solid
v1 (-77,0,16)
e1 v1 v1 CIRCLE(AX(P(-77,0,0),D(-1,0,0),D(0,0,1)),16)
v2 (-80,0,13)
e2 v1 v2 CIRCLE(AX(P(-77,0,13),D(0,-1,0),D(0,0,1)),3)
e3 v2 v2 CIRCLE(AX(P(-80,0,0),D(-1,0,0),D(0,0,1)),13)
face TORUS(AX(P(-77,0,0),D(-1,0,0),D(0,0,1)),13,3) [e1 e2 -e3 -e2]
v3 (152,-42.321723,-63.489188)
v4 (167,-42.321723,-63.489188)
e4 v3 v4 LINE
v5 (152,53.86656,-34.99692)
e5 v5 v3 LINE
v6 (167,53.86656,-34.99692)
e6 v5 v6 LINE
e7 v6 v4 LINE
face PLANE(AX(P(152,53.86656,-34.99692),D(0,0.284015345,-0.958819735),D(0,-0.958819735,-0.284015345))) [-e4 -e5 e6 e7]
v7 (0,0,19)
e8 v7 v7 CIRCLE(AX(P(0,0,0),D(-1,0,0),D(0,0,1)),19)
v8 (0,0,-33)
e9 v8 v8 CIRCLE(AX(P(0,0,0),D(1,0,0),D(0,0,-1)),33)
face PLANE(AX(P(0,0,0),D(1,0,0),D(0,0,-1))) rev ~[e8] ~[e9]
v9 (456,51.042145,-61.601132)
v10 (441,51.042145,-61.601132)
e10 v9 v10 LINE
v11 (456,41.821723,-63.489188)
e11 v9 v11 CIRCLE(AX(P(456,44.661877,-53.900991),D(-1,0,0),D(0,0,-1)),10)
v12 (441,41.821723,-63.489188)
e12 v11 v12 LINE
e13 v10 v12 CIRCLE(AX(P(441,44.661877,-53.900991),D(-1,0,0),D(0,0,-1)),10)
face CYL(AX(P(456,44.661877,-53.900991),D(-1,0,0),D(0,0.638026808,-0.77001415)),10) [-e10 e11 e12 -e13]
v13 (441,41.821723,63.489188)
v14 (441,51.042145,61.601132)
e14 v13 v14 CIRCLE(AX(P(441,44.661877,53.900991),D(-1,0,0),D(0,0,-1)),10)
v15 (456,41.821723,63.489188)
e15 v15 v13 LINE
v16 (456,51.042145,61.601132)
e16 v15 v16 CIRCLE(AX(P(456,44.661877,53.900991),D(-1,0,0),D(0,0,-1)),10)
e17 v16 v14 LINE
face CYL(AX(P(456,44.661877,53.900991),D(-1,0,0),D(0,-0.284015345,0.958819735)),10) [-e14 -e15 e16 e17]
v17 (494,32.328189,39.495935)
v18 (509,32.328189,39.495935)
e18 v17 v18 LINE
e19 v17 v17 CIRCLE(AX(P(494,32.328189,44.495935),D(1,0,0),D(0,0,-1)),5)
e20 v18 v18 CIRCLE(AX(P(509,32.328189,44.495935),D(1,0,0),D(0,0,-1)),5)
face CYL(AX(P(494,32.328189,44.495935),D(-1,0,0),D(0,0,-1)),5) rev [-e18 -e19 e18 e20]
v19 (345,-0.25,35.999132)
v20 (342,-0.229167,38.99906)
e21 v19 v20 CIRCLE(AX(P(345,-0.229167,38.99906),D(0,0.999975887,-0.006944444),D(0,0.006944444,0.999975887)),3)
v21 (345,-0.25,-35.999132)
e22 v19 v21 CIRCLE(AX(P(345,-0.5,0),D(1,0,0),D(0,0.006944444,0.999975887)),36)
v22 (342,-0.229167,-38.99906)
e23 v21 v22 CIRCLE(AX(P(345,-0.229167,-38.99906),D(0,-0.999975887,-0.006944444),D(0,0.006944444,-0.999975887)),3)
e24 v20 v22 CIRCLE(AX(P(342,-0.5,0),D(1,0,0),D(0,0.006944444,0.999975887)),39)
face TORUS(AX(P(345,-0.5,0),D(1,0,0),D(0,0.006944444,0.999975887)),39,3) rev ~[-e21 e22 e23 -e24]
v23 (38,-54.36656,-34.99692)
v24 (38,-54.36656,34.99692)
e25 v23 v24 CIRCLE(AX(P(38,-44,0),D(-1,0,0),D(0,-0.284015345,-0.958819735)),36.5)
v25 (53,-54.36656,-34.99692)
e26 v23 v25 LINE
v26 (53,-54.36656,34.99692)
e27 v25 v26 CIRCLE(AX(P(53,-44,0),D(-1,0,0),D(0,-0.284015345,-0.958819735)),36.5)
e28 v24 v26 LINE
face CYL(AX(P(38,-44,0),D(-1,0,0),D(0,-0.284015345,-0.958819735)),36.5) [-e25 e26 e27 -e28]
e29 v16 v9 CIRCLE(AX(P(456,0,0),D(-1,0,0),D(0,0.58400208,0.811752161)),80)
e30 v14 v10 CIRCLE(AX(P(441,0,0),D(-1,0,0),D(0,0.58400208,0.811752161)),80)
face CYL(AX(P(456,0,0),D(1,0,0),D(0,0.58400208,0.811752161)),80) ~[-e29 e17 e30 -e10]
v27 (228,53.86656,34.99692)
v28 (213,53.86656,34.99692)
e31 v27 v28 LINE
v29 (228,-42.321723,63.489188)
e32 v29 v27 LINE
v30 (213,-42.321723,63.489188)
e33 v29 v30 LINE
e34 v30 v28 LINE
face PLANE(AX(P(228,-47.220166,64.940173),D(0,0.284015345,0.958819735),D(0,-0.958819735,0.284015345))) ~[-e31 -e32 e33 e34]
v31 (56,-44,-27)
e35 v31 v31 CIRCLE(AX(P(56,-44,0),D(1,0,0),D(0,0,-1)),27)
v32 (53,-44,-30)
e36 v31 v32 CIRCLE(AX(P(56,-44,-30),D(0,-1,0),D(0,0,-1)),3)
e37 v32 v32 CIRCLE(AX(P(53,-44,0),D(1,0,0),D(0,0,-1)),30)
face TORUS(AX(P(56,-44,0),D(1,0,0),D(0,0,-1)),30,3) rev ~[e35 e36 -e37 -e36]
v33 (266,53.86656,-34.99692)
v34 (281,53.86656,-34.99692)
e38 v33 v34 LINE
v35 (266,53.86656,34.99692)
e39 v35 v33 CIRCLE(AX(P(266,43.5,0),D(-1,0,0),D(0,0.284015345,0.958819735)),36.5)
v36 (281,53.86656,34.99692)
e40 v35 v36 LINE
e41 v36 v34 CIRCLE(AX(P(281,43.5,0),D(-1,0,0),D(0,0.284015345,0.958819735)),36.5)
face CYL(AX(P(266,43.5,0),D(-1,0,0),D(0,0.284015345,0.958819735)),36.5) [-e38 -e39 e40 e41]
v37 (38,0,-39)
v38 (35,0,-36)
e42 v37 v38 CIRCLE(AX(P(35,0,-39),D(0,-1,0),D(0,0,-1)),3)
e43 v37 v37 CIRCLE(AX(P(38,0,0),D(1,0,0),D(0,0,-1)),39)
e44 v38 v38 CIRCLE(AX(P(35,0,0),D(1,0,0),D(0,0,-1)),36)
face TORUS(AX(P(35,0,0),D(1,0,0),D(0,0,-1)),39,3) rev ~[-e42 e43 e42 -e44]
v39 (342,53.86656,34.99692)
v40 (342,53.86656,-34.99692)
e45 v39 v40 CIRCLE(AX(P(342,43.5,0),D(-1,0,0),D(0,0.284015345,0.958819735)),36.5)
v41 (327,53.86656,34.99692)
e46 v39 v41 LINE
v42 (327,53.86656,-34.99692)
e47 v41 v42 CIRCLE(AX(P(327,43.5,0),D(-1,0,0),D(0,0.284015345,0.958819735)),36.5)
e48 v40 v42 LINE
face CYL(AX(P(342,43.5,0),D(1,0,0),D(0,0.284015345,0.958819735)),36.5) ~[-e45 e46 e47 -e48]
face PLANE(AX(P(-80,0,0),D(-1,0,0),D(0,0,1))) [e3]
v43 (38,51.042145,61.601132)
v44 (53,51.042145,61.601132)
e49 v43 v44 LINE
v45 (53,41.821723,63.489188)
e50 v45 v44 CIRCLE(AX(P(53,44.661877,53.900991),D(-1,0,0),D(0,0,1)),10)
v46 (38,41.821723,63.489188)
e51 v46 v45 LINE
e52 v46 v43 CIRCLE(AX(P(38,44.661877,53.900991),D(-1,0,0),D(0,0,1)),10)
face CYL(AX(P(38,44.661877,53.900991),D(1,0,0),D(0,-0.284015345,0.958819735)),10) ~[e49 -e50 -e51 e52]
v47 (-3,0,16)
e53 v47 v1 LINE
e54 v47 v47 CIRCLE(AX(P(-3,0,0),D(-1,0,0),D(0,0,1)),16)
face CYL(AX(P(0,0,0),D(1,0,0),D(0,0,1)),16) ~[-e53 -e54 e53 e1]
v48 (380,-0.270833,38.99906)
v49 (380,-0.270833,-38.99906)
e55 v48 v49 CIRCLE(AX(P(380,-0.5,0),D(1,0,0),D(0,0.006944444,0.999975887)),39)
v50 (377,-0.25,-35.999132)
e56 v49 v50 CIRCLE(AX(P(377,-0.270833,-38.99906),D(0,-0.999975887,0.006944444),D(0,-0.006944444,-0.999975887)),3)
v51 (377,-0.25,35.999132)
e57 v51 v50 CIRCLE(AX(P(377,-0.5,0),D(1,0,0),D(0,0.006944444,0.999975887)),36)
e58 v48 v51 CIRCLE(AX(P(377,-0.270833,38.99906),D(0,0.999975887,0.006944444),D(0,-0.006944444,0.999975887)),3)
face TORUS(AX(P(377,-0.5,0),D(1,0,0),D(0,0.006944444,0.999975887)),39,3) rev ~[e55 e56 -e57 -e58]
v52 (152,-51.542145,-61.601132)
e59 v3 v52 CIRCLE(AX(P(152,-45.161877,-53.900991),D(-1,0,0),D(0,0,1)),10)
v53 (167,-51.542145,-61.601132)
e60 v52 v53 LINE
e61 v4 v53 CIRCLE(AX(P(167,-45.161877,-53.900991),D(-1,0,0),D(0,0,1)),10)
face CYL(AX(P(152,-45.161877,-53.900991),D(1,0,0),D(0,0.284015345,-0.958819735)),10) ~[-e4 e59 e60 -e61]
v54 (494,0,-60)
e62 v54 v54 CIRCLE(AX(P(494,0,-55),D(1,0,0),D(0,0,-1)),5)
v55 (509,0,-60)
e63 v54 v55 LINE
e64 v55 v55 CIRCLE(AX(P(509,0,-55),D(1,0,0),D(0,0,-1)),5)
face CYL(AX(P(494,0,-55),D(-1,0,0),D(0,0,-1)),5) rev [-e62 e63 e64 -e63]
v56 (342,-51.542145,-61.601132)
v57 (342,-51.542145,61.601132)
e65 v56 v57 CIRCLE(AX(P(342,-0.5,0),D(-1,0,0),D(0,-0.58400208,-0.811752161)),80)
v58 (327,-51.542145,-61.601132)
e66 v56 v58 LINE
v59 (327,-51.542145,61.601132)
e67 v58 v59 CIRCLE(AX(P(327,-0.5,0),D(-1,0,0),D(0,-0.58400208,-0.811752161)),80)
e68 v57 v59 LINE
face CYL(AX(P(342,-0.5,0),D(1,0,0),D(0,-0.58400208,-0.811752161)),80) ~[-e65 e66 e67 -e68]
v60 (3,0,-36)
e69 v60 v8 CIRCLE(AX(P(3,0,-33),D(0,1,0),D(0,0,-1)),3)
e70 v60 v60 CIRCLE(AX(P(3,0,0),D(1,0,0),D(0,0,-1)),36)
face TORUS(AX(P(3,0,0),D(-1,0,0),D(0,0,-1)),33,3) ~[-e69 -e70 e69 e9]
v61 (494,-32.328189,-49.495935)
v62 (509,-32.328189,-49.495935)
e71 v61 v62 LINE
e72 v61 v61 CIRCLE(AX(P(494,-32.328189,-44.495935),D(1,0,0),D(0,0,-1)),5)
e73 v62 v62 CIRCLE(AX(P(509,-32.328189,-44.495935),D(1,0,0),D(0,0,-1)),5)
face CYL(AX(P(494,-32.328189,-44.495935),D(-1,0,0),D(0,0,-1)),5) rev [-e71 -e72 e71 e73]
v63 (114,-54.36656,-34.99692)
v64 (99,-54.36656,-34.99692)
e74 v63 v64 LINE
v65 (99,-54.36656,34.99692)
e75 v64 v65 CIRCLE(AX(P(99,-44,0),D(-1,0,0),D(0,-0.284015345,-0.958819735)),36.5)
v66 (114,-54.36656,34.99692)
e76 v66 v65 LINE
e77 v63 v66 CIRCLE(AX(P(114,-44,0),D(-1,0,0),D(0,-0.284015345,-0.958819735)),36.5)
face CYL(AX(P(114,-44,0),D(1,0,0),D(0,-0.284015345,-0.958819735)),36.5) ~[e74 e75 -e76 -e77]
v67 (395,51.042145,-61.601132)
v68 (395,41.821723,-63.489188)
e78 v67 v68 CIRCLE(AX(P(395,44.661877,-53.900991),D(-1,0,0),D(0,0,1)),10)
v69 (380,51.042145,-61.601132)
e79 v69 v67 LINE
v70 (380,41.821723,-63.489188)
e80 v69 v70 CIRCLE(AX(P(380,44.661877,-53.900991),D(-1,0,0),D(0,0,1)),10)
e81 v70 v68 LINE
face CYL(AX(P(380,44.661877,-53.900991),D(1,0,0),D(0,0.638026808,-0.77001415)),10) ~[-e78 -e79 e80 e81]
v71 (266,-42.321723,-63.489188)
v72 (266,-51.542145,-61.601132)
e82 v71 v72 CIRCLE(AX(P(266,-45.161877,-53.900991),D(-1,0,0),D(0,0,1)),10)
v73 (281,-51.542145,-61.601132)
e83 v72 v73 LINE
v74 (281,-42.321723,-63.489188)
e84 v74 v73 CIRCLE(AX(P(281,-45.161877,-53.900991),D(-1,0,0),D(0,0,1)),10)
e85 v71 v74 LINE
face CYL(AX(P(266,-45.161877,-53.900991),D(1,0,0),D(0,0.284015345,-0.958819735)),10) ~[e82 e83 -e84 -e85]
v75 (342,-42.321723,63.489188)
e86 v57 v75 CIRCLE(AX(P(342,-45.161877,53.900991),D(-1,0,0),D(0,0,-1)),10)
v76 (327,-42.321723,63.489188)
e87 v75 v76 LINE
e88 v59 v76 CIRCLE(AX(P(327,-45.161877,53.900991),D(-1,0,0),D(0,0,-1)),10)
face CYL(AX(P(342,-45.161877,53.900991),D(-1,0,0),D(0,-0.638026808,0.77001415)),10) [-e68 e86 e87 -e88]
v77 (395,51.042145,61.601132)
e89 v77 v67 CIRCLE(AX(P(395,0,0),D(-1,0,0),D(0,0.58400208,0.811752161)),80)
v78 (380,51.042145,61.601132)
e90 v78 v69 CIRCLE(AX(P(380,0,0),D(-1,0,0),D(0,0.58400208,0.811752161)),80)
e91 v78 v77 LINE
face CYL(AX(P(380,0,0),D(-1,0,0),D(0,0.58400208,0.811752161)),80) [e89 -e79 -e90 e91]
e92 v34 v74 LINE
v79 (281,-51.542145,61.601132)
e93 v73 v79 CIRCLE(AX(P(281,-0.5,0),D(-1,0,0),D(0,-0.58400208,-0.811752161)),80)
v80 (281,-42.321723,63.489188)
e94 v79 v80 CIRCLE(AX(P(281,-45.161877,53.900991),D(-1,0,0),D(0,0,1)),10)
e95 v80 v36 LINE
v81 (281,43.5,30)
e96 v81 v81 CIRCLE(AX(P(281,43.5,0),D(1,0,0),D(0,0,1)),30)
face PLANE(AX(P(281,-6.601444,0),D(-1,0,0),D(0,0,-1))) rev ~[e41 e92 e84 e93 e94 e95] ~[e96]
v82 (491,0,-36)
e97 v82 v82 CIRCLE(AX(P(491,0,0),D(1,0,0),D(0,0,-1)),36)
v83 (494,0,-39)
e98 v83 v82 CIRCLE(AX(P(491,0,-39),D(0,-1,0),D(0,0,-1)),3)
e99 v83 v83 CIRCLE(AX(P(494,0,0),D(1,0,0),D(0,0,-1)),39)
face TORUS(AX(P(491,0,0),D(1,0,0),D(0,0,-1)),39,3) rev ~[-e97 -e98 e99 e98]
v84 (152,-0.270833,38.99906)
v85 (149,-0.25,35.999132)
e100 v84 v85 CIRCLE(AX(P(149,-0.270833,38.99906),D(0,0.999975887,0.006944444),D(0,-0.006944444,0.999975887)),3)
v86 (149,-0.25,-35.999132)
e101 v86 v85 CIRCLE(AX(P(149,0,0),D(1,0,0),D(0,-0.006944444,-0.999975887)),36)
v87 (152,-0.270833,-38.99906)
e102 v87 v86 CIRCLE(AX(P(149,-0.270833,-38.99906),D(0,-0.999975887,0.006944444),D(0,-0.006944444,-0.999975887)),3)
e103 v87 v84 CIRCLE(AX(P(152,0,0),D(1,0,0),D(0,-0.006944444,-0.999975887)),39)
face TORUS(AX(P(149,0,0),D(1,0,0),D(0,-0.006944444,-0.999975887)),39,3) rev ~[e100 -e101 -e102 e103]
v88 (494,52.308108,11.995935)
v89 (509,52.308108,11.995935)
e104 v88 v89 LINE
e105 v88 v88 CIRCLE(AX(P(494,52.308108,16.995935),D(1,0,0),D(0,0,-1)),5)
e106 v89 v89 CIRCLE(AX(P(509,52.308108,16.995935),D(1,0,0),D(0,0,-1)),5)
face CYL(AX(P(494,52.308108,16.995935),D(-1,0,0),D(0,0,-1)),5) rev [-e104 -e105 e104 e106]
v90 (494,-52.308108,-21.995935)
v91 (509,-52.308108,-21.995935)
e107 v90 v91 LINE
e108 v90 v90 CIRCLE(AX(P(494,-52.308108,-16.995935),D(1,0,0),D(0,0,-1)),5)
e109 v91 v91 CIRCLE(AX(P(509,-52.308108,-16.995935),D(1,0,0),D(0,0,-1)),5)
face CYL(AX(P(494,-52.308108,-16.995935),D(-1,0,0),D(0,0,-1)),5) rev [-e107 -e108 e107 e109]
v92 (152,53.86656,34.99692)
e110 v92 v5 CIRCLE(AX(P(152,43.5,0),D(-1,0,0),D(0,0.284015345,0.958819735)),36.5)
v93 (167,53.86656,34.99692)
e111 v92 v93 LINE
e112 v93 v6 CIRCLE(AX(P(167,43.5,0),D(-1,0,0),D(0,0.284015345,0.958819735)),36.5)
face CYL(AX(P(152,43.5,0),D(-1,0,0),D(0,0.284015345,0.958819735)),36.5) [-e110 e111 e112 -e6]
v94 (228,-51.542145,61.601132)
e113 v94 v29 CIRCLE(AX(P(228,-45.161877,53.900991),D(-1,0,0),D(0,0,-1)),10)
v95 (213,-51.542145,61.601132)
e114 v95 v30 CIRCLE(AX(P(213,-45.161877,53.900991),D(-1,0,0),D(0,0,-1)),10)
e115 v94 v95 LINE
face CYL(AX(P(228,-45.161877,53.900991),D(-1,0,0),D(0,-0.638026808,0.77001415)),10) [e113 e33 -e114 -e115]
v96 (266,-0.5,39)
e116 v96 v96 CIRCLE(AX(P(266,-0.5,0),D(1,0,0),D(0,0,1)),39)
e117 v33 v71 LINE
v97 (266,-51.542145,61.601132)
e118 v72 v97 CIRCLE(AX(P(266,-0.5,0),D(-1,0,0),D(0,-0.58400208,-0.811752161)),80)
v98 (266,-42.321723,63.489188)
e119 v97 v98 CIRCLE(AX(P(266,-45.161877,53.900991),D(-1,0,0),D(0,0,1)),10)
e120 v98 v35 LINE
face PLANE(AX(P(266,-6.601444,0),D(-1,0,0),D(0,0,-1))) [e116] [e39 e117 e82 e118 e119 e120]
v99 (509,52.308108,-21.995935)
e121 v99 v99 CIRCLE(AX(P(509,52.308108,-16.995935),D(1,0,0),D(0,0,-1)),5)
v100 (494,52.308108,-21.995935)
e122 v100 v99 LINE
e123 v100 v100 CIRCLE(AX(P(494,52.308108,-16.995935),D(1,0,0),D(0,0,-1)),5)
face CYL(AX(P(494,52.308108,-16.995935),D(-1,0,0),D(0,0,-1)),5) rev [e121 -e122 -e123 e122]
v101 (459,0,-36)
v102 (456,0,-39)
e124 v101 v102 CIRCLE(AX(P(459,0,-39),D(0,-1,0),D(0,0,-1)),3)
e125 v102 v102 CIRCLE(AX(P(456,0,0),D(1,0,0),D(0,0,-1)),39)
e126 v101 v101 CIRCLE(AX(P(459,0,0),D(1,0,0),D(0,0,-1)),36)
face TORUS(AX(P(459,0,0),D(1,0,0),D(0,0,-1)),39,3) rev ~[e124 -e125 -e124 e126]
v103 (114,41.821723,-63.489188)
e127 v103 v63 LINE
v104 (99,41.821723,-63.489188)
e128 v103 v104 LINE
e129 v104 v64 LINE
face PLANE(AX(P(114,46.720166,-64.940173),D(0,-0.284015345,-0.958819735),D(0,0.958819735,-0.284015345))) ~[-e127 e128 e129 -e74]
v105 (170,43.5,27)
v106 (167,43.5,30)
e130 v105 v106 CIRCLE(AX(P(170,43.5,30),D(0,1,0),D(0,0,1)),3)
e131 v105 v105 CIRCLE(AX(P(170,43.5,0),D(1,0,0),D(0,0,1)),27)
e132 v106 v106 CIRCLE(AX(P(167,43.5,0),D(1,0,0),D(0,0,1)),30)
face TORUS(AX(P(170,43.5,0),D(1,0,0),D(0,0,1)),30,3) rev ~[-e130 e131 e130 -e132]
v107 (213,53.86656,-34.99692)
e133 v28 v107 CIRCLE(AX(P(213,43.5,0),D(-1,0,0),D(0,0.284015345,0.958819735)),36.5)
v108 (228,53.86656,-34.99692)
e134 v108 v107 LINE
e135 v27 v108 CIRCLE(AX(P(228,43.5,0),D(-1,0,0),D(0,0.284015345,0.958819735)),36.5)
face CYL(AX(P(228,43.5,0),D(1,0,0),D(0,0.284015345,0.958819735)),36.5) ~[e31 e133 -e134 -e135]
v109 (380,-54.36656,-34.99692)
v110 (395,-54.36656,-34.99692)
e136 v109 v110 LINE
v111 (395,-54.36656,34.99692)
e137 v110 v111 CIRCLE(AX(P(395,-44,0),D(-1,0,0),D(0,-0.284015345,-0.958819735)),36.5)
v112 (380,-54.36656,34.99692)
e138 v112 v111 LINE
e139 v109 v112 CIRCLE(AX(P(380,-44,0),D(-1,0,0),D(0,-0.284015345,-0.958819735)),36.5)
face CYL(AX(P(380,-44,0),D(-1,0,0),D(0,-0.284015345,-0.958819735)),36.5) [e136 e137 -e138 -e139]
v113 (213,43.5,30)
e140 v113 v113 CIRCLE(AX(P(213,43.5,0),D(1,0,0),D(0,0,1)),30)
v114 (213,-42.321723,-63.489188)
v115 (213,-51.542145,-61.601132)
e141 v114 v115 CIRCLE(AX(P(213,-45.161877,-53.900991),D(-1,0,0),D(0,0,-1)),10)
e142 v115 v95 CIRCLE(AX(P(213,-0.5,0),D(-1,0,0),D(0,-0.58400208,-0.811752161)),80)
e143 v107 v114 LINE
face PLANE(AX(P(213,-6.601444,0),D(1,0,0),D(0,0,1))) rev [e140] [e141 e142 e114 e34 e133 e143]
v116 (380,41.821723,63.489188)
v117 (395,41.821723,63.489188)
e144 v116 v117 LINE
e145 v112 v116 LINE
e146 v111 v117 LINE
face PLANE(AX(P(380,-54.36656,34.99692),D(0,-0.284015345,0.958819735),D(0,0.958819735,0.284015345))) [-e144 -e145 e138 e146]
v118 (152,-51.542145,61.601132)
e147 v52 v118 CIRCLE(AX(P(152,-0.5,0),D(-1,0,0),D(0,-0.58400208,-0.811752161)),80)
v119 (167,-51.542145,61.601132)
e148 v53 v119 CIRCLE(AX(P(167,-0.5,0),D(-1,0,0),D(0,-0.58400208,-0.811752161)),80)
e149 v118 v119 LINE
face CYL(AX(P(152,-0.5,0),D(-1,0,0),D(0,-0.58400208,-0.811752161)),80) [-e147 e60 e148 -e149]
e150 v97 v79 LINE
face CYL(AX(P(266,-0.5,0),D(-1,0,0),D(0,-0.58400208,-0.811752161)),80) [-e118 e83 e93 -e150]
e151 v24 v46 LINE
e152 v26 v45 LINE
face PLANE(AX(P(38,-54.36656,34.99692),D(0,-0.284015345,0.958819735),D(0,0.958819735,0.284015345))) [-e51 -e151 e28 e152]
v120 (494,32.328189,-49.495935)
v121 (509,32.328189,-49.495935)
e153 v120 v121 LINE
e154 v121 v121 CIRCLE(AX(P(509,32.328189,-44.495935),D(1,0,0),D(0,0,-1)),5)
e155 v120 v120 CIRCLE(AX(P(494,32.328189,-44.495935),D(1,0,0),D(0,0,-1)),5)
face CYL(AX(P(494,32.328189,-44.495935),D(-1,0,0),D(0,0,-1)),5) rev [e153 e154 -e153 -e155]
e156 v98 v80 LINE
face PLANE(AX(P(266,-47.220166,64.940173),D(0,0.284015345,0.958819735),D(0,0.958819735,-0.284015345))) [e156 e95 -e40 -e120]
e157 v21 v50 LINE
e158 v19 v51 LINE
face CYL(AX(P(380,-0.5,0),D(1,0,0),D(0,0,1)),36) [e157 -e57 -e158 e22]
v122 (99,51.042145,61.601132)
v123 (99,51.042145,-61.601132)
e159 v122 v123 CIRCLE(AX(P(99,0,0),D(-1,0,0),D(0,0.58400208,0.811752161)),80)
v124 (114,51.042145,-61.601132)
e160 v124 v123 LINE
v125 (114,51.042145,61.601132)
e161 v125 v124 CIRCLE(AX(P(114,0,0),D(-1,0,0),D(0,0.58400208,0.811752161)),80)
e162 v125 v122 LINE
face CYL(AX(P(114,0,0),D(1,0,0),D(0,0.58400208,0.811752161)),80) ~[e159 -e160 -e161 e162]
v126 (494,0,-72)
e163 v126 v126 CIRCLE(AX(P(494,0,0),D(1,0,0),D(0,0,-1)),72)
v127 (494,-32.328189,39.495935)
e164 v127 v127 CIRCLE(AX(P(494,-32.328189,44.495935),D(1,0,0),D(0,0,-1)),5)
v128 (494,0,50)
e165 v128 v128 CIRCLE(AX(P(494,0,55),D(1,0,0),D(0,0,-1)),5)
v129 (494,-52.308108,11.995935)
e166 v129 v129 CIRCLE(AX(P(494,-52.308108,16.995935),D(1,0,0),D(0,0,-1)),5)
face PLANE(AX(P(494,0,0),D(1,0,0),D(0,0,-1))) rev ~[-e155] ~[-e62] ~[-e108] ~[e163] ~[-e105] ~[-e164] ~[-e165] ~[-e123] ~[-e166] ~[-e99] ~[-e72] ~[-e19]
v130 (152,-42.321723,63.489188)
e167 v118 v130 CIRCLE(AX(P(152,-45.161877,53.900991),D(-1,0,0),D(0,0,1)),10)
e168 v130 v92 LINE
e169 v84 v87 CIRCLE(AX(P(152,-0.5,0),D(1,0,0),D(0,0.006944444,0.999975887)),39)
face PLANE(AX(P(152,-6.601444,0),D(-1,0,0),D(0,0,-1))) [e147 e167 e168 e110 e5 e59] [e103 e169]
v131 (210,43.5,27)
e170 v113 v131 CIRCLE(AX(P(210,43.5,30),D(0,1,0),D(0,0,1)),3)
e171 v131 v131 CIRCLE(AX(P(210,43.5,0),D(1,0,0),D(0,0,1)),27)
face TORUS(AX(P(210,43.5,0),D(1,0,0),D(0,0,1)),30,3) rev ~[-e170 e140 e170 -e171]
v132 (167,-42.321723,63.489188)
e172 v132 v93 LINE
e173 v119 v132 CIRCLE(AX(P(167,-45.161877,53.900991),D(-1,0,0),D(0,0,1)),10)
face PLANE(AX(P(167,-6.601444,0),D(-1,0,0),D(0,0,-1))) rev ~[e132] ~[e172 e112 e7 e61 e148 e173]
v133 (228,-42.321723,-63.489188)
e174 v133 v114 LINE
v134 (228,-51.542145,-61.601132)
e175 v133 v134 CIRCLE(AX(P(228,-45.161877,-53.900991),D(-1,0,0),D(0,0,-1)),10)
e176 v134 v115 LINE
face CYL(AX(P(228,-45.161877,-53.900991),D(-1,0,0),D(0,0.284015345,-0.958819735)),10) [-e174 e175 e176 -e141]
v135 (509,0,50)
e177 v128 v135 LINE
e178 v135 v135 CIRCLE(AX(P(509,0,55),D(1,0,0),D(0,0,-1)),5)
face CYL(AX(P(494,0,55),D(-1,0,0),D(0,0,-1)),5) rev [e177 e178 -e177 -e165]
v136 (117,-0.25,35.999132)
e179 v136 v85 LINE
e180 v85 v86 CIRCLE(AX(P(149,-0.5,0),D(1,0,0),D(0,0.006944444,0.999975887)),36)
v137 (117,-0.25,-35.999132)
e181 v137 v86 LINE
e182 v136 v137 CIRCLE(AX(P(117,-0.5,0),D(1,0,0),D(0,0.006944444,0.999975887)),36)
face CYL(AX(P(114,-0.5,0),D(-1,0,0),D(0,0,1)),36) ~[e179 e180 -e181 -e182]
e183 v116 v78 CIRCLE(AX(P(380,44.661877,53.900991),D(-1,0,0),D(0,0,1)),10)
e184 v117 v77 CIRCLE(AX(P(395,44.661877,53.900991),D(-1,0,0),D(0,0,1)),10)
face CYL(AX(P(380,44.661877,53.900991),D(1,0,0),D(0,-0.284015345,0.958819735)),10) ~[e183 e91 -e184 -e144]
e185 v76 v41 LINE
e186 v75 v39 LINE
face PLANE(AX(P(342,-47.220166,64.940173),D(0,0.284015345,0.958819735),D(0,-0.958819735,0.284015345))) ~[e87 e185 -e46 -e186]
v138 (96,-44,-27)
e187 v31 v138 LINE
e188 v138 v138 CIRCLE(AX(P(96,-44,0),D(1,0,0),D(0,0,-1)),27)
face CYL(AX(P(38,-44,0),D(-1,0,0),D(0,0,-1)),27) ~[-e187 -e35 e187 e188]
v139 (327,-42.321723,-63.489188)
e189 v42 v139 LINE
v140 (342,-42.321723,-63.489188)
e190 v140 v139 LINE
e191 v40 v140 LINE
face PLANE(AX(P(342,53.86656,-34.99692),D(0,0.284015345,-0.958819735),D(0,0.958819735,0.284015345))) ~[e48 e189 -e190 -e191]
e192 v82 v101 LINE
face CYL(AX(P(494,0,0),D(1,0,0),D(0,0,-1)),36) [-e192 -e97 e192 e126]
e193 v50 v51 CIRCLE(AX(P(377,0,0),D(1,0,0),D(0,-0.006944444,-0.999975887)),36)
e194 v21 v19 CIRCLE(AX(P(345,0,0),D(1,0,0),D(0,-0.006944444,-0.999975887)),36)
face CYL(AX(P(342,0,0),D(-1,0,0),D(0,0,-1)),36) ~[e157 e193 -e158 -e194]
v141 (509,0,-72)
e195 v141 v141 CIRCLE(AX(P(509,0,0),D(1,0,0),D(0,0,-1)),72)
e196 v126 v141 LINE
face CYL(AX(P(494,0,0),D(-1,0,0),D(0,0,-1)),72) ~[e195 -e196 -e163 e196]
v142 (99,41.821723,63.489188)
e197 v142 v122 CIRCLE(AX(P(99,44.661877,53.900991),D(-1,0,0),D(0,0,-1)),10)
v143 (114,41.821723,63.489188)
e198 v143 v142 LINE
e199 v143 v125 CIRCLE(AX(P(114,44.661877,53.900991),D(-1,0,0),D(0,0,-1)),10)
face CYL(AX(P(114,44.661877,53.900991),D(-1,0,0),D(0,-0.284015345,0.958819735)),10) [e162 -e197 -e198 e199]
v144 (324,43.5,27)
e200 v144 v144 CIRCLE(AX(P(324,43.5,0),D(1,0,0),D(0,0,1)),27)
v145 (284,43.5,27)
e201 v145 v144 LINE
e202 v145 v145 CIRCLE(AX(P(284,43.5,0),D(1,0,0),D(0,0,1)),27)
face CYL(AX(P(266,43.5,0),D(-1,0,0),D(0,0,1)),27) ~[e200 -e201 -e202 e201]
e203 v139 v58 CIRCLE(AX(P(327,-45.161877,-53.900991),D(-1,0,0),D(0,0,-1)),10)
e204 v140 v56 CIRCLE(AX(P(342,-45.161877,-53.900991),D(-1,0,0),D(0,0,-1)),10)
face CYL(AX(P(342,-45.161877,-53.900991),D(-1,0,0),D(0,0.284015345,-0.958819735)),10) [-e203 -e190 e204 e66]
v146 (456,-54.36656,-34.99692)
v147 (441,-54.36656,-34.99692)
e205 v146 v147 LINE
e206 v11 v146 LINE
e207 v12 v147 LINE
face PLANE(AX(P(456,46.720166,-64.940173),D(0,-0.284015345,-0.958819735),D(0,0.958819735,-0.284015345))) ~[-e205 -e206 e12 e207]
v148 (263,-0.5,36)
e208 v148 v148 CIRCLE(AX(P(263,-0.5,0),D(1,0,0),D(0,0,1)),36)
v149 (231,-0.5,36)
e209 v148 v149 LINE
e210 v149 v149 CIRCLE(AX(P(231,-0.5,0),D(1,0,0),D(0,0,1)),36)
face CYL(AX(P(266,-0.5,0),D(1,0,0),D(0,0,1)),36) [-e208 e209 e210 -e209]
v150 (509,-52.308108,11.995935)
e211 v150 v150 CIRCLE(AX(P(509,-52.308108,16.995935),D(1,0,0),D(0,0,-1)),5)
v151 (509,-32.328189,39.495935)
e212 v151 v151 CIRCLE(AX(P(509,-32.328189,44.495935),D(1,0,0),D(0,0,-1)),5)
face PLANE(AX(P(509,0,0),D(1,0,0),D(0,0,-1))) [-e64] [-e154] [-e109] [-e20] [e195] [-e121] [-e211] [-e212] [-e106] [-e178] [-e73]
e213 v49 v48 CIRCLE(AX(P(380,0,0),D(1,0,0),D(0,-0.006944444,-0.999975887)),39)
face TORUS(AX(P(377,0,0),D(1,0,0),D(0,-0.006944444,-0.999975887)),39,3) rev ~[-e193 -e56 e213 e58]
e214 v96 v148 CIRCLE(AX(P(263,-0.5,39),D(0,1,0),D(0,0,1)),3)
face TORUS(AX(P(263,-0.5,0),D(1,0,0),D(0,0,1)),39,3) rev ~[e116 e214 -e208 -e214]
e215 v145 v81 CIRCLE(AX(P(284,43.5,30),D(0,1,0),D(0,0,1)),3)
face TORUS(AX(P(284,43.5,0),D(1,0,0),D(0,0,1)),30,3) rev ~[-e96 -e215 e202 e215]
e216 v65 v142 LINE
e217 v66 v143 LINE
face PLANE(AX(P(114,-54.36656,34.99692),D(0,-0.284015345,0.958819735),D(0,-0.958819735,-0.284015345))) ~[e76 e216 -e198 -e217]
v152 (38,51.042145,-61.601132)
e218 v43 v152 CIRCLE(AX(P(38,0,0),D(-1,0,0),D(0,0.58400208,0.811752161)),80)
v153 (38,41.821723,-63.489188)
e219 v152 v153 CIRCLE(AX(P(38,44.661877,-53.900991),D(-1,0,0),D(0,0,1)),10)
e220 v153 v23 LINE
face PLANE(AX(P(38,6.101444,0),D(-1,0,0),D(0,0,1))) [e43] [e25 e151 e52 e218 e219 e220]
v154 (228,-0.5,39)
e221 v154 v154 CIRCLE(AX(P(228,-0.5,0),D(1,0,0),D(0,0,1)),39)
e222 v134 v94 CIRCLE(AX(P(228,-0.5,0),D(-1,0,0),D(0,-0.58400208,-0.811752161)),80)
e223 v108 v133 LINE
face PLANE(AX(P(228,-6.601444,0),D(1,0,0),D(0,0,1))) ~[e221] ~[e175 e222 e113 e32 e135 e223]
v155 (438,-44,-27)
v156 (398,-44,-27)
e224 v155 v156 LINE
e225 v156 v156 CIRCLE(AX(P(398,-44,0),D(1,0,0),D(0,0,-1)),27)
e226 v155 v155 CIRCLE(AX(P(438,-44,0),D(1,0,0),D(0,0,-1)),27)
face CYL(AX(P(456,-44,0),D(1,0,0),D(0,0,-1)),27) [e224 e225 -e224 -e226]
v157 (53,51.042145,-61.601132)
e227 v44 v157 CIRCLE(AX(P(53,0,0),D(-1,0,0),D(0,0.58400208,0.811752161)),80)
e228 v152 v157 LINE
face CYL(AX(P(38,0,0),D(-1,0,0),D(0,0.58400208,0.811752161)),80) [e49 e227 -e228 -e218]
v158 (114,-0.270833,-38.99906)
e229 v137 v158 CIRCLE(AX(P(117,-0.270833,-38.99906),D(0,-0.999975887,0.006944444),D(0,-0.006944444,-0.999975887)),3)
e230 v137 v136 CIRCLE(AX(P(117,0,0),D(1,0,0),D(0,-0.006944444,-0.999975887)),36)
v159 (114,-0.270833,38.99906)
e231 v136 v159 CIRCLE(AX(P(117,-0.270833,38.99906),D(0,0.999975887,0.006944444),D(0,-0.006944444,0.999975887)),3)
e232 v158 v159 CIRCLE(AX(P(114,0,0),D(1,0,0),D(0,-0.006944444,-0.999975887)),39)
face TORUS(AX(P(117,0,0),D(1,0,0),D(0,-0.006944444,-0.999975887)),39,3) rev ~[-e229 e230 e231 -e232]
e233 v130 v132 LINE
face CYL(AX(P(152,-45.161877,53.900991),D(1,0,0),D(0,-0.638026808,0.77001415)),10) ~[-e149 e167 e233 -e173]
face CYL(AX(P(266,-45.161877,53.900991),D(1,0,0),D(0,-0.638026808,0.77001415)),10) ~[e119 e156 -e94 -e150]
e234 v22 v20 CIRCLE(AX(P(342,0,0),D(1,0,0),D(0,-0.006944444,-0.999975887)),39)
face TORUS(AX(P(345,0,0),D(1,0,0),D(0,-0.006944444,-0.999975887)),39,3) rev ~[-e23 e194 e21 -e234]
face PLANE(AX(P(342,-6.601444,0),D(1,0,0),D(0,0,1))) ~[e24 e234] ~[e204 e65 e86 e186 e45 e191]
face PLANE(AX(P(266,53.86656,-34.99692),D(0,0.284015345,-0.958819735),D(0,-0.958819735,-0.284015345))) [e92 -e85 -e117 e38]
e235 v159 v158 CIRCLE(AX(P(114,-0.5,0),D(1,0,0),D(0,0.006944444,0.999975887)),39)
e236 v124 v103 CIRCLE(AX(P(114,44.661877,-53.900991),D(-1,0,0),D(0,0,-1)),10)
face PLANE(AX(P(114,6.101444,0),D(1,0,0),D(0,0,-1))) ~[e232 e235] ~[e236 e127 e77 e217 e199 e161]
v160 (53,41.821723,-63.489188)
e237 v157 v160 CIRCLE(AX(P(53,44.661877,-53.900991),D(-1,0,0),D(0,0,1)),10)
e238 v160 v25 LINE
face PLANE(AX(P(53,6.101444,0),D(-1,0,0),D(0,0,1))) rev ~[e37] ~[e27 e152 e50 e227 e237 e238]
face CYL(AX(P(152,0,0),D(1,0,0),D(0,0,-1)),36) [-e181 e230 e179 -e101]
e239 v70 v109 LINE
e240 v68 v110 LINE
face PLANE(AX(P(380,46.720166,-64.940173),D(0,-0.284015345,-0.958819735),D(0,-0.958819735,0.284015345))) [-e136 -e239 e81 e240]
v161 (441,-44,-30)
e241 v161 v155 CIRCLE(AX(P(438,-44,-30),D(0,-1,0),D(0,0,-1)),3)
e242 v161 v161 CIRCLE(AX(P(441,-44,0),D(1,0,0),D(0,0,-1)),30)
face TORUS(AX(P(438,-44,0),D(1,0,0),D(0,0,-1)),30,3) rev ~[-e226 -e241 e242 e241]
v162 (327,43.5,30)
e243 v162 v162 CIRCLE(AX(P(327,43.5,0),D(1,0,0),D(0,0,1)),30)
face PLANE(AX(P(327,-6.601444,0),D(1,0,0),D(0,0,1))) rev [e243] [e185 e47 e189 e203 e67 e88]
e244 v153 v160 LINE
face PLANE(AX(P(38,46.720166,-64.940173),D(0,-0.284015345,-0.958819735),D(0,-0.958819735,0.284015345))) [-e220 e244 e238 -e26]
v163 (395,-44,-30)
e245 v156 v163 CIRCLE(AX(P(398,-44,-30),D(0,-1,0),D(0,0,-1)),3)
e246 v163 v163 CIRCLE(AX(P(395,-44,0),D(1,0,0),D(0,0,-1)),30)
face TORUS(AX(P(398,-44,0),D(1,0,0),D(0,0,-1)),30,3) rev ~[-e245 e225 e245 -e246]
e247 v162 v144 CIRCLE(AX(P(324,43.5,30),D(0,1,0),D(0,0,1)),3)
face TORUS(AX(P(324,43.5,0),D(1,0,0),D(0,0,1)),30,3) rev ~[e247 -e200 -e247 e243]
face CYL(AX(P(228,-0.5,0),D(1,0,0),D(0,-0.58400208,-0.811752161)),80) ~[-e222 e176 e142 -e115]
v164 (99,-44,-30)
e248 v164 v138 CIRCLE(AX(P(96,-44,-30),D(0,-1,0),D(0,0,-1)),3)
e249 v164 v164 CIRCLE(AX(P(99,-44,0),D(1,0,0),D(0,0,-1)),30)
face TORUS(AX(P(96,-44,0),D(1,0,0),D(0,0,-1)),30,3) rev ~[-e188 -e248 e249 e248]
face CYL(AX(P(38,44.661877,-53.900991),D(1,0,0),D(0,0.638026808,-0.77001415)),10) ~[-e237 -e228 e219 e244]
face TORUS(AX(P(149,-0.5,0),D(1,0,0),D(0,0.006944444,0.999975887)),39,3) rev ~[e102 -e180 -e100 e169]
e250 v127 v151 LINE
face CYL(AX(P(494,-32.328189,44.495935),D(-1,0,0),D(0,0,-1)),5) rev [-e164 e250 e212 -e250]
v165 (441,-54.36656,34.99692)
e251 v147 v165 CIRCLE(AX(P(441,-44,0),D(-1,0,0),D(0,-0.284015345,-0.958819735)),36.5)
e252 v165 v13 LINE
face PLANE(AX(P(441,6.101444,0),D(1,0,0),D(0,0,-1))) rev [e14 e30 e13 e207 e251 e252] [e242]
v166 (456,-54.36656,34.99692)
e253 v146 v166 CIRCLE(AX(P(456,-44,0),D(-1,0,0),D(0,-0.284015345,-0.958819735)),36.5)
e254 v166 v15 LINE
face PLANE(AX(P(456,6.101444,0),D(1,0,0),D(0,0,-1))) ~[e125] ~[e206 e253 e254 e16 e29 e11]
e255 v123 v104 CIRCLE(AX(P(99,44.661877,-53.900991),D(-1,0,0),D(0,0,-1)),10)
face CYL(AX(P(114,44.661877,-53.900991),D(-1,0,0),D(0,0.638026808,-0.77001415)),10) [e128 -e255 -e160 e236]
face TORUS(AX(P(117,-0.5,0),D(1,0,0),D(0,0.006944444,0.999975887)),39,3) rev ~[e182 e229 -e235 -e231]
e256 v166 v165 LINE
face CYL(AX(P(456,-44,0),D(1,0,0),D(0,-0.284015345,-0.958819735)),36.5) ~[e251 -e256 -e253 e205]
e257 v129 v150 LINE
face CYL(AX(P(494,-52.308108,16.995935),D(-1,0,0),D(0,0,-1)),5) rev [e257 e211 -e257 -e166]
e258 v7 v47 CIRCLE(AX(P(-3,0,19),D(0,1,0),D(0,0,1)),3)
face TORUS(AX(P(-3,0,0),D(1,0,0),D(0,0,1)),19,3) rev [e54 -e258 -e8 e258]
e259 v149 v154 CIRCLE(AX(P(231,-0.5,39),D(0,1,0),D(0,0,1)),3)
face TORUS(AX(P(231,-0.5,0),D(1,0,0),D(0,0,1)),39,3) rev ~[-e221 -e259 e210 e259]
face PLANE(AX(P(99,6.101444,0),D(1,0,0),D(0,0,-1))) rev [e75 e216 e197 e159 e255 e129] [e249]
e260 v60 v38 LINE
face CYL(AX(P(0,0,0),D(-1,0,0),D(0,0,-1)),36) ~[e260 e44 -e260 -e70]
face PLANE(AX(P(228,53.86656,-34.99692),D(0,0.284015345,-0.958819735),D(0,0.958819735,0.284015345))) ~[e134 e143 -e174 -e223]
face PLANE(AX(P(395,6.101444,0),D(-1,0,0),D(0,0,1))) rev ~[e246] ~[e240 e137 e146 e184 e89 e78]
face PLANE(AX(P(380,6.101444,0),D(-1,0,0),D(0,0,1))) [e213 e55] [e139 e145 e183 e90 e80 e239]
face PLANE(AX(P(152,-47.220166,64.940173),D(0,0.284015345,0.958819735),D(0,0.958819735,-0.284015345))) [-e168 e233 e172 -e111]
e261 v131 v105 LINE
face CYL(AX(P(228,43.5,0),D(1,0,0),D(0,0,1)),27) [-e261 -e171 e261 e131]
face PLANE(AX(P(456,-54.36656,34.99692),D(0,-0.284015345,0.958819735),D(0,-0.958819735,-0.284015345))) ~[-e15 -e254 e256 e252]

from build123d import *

# Parameters (mm, degrees)
SKETCH1_R             = 36
BOSS_EXTRUDE1_DEPTH   = 38
SKETCH2_R             = 27
BOSS_EXTRUDE2_DEPTH   = 15
SKETCH2_2_R           = 27
BOSS_EXTRUDE3_DEPTH   = 61
BODY_MOVE_COPY1_ANGLE = 180
SKETCH3_R             = 72
SKETCH3_R_2           = 5
BOSS_EXTRUDE4_DEPTH   = 15
FILLET1_R             = 3
FILLET2_R             = 10
SKETCH4_R             = 16
BOSS_EXTRUDE5_DEPTH   = 80
FILLET3_R             = 3


with BuildPart() as part:
    # Sketch1 → Boss-Extrude1 (new body)
    with BuildSketch(Plane(origin=(0, 0, 0), x_dir=(0, 0, -1), z_dir=(1, 0, 0))):
        Circle(SKETCH1_R)
    extrude(amount=BOSS_EXTRUDE1_DEPTH)

    # Sketch2 → Boss-Extrude2 (add)
    with BuildSketch(Plane(origin=(38, 0, 0), x_dir=(0, 0, -1), z_dir=(1, 0, 0))):
        with BuildLine():
            Line((-34.996920323, -54.366560082), (-64.940172867, 46.720166396))
            ThreePointArc((-64.940172867, 46.720166396), (0, 80), (64.940172867, 46.720166396))
            Line((64.940172867, 46.720166396), (34.996920323, -54.366560082))
            ThreePointArc((34.996920323, -54.366560082), (0, -80.5), (-34.996920323, -54.366560082))
        make_face()
        with Locations((0, -44)):
            Circle(SKETCH2_R, mode=Mode.SUBTRACT)
    extrude(amount=BOSS_EXTRUDE2_DEPTH)

    # Sketch2_2 → Boss-Extrude3 (add)
    with BuildSketch(Plane(origin=(38, 0, 0), x_dir=(0, 0, -1), z_dir=(1, 0, 0))):
        with Locations((0, -44)):
            Circle(SKETCH2_2_R)
    extrude(amount=BOSS_EXTRUDE3_DEPTH)

    # Mirror1: part across plane


with BuildPart() as part_1:
    add(part.part)
    add(part.part.mirror(Plane(origin=(76, 0, 0), x_dir=(0, 0, 1), z_dir=(1, 0, 0))))


with BuildPart() as body_2:
    # Mirror2: mirrored copy
    add(part_1.part.mirror(Plane(origin=(133, 0, 0), x_dir=(0, 0, 1), z_dir=(1, 0, 0))))


with BuildPart() as body_2_1:
    # Body-Move_Copy1: moved
    add(body_2.part.rotate(Axis((0, -0.25, 0), (1, 0, 0)), BODY_MOVE_COPY1_ANGLE))


with BuildPart() as body_3:
    # Mirror3: mirrored copy
    add(part_1.part.mirror(Plane(origin=(247, 0, 0), x_dir=(0, 0, 1), z_dir=(1, 0, 0))))


with BuildPart() as body_4:
    # Mirror3 2: mirrored copy
    add(body_2_1.part.mirror(Plane(origin=(247, 0, 0), x_dir=(0, 0, 1), z_dir=(1, 0, 0))))


with BuildPart() as part_2:
    add(part_1.part)

    # Combine1: union body 2, body 4, body 3
    add(body_2_1.part)
    add(body_4.part)
    add(body_3.part)

    # Sketch3 → Boss-Extrude4 (add)
    with BuildSketch(Plane(origin=(494, 0, 0), x_dir=(0, 0, -1), z_dir=(1, 0, 0))):
        Circle(SKETCH3_R)
        with Locations((55, 0)):
            Circle(SKETCH3_R_2, mode=Mode.SUBTRACT)
        with Locations((44.495934691, -32.328188876)):
            Circle(SKETCH3_R_2, mode=Mode.SUBTRACT)
        with Locations((16.995934691, -52.308108396)):
            Circle(SKETCH3_R_2, mode=Mode.SUBTRACT)
        with Locations((-16.995934691, -52.308108396)):
            Circle(SKETCH3_R_2, mode=Mode.SUBTRACT)
        with Locations((-44.495934691, -32.328188876)):
            Circle(SKETCH3_R_2, mode=Mode.SUBTRACT)
        with Locations((-55, 0)):
            Circle(SKETCH3_R_2, mode=Mode.SUBTRACT)
        with Locations((-44.495934691, 32.328188876)):
            Circle(SKETCH3_R_2, mode=Mode.SUBTRACT)
        with Locations((-16.995934691, 52.308108396)):
            Circle(SKETCH3_R_2, mode=Mode.SUBTRACT)
        with Locations((16.995934691, 52.308108396)):
            Circle(SKETCH3_R_2, mode=Mode.SUBTRACT)
        with Locations((44.495934691, 32.328188876)):
            Circle(SKETCH3_R_2, mode=Mode.SUBTRACT)
    extrude(amount=BOSS_EXTRUDE4_DEPTH)

    # Fillet1
    fillet1_edges = [part_2.edges().sort_by_distance(p)[0] for p in [
        (53, -44, 27),
        (0, 0, 36),
        (99, -44, 27),
        (38, 0, 36),
        (114, 36, 0),
        (114, -36.5, 0),
        (152, 36, 0),
        (133, -0.25, -35.999131934),
        (133, -0.25, 35.999131934),
        (228, -0.5, -36),
        (213, 43.5, -27),
        (167, 43.5, -27),
        (152, -36.5, 0),
        (342, -36.5, 0),
        (266, -0.5, -36),
        (281, 43.5, -27),
        (327, 43.5, -27),
        (342, 36, 0),
        (361, -0.25, 35.999131934),
        (361, -0.25, -35.999131934),
        (456, 0, 36),
        (494, 0, 36),
        (441, -44, 27),
        (395, -44, 27),
        (380, 36, 0),
        (380, -36.5, 0),
    ]]
    fillet(fillet1_edges, radius=FILLET1_R)

    # Fillet2
    fillet2_edges = [part_2.edges().sort_by_distance(p)[0] for p in [
        (45.5, 46.720166396, 64.940172867),
        (106.5, 46.720166396, -64.940172867),
        (106.5, 46.720166396, 64.940172867),
        (220.5, -47.220166396, 64.940172867),
        (220.5, -47.220166396, -64.940172867),
        (159.5, -47.220166396, 64.940172867),
        (159.5, -47.220166396, -64.940172867),
        (273.5, -47.220166396, 64.940172867),
        (273.5, -47.220166396, -64.940172867),
        (334.5, -47.220166396, 64.940172867),
        (334.5, -47.220166396, -64.940172867),
        (448.5, 46.720166396, -64.940172867),
        (448.5, 46.720166396, 64.940172867),
        (387.5, 46.720166396, -64.940172867),
        (387.5, 46.720166396, 64.940172867),
        (45.5, 46.720166396, -64.940172867),
    ]]
    fillet(fillet2_edges, radius=FILLET2_R)

    # Sketch4 → Boss-Extrude5 (add)
    with BuildSketch(Plane.ZY):
        Circle(SKETCH4_R)
    extrude(amount=BOSS_EXTRUDE5_DEPTH)

    # Fillet3
    fillet3_edges = [part_2.edges().sort_by_distance(p)[0] for p in [
        (0, 0, -16),
        (-80, 0, -16),
    ]]
    fillet(fillet3_edges, radius=FILLET3_R)


solid = part_2.part
